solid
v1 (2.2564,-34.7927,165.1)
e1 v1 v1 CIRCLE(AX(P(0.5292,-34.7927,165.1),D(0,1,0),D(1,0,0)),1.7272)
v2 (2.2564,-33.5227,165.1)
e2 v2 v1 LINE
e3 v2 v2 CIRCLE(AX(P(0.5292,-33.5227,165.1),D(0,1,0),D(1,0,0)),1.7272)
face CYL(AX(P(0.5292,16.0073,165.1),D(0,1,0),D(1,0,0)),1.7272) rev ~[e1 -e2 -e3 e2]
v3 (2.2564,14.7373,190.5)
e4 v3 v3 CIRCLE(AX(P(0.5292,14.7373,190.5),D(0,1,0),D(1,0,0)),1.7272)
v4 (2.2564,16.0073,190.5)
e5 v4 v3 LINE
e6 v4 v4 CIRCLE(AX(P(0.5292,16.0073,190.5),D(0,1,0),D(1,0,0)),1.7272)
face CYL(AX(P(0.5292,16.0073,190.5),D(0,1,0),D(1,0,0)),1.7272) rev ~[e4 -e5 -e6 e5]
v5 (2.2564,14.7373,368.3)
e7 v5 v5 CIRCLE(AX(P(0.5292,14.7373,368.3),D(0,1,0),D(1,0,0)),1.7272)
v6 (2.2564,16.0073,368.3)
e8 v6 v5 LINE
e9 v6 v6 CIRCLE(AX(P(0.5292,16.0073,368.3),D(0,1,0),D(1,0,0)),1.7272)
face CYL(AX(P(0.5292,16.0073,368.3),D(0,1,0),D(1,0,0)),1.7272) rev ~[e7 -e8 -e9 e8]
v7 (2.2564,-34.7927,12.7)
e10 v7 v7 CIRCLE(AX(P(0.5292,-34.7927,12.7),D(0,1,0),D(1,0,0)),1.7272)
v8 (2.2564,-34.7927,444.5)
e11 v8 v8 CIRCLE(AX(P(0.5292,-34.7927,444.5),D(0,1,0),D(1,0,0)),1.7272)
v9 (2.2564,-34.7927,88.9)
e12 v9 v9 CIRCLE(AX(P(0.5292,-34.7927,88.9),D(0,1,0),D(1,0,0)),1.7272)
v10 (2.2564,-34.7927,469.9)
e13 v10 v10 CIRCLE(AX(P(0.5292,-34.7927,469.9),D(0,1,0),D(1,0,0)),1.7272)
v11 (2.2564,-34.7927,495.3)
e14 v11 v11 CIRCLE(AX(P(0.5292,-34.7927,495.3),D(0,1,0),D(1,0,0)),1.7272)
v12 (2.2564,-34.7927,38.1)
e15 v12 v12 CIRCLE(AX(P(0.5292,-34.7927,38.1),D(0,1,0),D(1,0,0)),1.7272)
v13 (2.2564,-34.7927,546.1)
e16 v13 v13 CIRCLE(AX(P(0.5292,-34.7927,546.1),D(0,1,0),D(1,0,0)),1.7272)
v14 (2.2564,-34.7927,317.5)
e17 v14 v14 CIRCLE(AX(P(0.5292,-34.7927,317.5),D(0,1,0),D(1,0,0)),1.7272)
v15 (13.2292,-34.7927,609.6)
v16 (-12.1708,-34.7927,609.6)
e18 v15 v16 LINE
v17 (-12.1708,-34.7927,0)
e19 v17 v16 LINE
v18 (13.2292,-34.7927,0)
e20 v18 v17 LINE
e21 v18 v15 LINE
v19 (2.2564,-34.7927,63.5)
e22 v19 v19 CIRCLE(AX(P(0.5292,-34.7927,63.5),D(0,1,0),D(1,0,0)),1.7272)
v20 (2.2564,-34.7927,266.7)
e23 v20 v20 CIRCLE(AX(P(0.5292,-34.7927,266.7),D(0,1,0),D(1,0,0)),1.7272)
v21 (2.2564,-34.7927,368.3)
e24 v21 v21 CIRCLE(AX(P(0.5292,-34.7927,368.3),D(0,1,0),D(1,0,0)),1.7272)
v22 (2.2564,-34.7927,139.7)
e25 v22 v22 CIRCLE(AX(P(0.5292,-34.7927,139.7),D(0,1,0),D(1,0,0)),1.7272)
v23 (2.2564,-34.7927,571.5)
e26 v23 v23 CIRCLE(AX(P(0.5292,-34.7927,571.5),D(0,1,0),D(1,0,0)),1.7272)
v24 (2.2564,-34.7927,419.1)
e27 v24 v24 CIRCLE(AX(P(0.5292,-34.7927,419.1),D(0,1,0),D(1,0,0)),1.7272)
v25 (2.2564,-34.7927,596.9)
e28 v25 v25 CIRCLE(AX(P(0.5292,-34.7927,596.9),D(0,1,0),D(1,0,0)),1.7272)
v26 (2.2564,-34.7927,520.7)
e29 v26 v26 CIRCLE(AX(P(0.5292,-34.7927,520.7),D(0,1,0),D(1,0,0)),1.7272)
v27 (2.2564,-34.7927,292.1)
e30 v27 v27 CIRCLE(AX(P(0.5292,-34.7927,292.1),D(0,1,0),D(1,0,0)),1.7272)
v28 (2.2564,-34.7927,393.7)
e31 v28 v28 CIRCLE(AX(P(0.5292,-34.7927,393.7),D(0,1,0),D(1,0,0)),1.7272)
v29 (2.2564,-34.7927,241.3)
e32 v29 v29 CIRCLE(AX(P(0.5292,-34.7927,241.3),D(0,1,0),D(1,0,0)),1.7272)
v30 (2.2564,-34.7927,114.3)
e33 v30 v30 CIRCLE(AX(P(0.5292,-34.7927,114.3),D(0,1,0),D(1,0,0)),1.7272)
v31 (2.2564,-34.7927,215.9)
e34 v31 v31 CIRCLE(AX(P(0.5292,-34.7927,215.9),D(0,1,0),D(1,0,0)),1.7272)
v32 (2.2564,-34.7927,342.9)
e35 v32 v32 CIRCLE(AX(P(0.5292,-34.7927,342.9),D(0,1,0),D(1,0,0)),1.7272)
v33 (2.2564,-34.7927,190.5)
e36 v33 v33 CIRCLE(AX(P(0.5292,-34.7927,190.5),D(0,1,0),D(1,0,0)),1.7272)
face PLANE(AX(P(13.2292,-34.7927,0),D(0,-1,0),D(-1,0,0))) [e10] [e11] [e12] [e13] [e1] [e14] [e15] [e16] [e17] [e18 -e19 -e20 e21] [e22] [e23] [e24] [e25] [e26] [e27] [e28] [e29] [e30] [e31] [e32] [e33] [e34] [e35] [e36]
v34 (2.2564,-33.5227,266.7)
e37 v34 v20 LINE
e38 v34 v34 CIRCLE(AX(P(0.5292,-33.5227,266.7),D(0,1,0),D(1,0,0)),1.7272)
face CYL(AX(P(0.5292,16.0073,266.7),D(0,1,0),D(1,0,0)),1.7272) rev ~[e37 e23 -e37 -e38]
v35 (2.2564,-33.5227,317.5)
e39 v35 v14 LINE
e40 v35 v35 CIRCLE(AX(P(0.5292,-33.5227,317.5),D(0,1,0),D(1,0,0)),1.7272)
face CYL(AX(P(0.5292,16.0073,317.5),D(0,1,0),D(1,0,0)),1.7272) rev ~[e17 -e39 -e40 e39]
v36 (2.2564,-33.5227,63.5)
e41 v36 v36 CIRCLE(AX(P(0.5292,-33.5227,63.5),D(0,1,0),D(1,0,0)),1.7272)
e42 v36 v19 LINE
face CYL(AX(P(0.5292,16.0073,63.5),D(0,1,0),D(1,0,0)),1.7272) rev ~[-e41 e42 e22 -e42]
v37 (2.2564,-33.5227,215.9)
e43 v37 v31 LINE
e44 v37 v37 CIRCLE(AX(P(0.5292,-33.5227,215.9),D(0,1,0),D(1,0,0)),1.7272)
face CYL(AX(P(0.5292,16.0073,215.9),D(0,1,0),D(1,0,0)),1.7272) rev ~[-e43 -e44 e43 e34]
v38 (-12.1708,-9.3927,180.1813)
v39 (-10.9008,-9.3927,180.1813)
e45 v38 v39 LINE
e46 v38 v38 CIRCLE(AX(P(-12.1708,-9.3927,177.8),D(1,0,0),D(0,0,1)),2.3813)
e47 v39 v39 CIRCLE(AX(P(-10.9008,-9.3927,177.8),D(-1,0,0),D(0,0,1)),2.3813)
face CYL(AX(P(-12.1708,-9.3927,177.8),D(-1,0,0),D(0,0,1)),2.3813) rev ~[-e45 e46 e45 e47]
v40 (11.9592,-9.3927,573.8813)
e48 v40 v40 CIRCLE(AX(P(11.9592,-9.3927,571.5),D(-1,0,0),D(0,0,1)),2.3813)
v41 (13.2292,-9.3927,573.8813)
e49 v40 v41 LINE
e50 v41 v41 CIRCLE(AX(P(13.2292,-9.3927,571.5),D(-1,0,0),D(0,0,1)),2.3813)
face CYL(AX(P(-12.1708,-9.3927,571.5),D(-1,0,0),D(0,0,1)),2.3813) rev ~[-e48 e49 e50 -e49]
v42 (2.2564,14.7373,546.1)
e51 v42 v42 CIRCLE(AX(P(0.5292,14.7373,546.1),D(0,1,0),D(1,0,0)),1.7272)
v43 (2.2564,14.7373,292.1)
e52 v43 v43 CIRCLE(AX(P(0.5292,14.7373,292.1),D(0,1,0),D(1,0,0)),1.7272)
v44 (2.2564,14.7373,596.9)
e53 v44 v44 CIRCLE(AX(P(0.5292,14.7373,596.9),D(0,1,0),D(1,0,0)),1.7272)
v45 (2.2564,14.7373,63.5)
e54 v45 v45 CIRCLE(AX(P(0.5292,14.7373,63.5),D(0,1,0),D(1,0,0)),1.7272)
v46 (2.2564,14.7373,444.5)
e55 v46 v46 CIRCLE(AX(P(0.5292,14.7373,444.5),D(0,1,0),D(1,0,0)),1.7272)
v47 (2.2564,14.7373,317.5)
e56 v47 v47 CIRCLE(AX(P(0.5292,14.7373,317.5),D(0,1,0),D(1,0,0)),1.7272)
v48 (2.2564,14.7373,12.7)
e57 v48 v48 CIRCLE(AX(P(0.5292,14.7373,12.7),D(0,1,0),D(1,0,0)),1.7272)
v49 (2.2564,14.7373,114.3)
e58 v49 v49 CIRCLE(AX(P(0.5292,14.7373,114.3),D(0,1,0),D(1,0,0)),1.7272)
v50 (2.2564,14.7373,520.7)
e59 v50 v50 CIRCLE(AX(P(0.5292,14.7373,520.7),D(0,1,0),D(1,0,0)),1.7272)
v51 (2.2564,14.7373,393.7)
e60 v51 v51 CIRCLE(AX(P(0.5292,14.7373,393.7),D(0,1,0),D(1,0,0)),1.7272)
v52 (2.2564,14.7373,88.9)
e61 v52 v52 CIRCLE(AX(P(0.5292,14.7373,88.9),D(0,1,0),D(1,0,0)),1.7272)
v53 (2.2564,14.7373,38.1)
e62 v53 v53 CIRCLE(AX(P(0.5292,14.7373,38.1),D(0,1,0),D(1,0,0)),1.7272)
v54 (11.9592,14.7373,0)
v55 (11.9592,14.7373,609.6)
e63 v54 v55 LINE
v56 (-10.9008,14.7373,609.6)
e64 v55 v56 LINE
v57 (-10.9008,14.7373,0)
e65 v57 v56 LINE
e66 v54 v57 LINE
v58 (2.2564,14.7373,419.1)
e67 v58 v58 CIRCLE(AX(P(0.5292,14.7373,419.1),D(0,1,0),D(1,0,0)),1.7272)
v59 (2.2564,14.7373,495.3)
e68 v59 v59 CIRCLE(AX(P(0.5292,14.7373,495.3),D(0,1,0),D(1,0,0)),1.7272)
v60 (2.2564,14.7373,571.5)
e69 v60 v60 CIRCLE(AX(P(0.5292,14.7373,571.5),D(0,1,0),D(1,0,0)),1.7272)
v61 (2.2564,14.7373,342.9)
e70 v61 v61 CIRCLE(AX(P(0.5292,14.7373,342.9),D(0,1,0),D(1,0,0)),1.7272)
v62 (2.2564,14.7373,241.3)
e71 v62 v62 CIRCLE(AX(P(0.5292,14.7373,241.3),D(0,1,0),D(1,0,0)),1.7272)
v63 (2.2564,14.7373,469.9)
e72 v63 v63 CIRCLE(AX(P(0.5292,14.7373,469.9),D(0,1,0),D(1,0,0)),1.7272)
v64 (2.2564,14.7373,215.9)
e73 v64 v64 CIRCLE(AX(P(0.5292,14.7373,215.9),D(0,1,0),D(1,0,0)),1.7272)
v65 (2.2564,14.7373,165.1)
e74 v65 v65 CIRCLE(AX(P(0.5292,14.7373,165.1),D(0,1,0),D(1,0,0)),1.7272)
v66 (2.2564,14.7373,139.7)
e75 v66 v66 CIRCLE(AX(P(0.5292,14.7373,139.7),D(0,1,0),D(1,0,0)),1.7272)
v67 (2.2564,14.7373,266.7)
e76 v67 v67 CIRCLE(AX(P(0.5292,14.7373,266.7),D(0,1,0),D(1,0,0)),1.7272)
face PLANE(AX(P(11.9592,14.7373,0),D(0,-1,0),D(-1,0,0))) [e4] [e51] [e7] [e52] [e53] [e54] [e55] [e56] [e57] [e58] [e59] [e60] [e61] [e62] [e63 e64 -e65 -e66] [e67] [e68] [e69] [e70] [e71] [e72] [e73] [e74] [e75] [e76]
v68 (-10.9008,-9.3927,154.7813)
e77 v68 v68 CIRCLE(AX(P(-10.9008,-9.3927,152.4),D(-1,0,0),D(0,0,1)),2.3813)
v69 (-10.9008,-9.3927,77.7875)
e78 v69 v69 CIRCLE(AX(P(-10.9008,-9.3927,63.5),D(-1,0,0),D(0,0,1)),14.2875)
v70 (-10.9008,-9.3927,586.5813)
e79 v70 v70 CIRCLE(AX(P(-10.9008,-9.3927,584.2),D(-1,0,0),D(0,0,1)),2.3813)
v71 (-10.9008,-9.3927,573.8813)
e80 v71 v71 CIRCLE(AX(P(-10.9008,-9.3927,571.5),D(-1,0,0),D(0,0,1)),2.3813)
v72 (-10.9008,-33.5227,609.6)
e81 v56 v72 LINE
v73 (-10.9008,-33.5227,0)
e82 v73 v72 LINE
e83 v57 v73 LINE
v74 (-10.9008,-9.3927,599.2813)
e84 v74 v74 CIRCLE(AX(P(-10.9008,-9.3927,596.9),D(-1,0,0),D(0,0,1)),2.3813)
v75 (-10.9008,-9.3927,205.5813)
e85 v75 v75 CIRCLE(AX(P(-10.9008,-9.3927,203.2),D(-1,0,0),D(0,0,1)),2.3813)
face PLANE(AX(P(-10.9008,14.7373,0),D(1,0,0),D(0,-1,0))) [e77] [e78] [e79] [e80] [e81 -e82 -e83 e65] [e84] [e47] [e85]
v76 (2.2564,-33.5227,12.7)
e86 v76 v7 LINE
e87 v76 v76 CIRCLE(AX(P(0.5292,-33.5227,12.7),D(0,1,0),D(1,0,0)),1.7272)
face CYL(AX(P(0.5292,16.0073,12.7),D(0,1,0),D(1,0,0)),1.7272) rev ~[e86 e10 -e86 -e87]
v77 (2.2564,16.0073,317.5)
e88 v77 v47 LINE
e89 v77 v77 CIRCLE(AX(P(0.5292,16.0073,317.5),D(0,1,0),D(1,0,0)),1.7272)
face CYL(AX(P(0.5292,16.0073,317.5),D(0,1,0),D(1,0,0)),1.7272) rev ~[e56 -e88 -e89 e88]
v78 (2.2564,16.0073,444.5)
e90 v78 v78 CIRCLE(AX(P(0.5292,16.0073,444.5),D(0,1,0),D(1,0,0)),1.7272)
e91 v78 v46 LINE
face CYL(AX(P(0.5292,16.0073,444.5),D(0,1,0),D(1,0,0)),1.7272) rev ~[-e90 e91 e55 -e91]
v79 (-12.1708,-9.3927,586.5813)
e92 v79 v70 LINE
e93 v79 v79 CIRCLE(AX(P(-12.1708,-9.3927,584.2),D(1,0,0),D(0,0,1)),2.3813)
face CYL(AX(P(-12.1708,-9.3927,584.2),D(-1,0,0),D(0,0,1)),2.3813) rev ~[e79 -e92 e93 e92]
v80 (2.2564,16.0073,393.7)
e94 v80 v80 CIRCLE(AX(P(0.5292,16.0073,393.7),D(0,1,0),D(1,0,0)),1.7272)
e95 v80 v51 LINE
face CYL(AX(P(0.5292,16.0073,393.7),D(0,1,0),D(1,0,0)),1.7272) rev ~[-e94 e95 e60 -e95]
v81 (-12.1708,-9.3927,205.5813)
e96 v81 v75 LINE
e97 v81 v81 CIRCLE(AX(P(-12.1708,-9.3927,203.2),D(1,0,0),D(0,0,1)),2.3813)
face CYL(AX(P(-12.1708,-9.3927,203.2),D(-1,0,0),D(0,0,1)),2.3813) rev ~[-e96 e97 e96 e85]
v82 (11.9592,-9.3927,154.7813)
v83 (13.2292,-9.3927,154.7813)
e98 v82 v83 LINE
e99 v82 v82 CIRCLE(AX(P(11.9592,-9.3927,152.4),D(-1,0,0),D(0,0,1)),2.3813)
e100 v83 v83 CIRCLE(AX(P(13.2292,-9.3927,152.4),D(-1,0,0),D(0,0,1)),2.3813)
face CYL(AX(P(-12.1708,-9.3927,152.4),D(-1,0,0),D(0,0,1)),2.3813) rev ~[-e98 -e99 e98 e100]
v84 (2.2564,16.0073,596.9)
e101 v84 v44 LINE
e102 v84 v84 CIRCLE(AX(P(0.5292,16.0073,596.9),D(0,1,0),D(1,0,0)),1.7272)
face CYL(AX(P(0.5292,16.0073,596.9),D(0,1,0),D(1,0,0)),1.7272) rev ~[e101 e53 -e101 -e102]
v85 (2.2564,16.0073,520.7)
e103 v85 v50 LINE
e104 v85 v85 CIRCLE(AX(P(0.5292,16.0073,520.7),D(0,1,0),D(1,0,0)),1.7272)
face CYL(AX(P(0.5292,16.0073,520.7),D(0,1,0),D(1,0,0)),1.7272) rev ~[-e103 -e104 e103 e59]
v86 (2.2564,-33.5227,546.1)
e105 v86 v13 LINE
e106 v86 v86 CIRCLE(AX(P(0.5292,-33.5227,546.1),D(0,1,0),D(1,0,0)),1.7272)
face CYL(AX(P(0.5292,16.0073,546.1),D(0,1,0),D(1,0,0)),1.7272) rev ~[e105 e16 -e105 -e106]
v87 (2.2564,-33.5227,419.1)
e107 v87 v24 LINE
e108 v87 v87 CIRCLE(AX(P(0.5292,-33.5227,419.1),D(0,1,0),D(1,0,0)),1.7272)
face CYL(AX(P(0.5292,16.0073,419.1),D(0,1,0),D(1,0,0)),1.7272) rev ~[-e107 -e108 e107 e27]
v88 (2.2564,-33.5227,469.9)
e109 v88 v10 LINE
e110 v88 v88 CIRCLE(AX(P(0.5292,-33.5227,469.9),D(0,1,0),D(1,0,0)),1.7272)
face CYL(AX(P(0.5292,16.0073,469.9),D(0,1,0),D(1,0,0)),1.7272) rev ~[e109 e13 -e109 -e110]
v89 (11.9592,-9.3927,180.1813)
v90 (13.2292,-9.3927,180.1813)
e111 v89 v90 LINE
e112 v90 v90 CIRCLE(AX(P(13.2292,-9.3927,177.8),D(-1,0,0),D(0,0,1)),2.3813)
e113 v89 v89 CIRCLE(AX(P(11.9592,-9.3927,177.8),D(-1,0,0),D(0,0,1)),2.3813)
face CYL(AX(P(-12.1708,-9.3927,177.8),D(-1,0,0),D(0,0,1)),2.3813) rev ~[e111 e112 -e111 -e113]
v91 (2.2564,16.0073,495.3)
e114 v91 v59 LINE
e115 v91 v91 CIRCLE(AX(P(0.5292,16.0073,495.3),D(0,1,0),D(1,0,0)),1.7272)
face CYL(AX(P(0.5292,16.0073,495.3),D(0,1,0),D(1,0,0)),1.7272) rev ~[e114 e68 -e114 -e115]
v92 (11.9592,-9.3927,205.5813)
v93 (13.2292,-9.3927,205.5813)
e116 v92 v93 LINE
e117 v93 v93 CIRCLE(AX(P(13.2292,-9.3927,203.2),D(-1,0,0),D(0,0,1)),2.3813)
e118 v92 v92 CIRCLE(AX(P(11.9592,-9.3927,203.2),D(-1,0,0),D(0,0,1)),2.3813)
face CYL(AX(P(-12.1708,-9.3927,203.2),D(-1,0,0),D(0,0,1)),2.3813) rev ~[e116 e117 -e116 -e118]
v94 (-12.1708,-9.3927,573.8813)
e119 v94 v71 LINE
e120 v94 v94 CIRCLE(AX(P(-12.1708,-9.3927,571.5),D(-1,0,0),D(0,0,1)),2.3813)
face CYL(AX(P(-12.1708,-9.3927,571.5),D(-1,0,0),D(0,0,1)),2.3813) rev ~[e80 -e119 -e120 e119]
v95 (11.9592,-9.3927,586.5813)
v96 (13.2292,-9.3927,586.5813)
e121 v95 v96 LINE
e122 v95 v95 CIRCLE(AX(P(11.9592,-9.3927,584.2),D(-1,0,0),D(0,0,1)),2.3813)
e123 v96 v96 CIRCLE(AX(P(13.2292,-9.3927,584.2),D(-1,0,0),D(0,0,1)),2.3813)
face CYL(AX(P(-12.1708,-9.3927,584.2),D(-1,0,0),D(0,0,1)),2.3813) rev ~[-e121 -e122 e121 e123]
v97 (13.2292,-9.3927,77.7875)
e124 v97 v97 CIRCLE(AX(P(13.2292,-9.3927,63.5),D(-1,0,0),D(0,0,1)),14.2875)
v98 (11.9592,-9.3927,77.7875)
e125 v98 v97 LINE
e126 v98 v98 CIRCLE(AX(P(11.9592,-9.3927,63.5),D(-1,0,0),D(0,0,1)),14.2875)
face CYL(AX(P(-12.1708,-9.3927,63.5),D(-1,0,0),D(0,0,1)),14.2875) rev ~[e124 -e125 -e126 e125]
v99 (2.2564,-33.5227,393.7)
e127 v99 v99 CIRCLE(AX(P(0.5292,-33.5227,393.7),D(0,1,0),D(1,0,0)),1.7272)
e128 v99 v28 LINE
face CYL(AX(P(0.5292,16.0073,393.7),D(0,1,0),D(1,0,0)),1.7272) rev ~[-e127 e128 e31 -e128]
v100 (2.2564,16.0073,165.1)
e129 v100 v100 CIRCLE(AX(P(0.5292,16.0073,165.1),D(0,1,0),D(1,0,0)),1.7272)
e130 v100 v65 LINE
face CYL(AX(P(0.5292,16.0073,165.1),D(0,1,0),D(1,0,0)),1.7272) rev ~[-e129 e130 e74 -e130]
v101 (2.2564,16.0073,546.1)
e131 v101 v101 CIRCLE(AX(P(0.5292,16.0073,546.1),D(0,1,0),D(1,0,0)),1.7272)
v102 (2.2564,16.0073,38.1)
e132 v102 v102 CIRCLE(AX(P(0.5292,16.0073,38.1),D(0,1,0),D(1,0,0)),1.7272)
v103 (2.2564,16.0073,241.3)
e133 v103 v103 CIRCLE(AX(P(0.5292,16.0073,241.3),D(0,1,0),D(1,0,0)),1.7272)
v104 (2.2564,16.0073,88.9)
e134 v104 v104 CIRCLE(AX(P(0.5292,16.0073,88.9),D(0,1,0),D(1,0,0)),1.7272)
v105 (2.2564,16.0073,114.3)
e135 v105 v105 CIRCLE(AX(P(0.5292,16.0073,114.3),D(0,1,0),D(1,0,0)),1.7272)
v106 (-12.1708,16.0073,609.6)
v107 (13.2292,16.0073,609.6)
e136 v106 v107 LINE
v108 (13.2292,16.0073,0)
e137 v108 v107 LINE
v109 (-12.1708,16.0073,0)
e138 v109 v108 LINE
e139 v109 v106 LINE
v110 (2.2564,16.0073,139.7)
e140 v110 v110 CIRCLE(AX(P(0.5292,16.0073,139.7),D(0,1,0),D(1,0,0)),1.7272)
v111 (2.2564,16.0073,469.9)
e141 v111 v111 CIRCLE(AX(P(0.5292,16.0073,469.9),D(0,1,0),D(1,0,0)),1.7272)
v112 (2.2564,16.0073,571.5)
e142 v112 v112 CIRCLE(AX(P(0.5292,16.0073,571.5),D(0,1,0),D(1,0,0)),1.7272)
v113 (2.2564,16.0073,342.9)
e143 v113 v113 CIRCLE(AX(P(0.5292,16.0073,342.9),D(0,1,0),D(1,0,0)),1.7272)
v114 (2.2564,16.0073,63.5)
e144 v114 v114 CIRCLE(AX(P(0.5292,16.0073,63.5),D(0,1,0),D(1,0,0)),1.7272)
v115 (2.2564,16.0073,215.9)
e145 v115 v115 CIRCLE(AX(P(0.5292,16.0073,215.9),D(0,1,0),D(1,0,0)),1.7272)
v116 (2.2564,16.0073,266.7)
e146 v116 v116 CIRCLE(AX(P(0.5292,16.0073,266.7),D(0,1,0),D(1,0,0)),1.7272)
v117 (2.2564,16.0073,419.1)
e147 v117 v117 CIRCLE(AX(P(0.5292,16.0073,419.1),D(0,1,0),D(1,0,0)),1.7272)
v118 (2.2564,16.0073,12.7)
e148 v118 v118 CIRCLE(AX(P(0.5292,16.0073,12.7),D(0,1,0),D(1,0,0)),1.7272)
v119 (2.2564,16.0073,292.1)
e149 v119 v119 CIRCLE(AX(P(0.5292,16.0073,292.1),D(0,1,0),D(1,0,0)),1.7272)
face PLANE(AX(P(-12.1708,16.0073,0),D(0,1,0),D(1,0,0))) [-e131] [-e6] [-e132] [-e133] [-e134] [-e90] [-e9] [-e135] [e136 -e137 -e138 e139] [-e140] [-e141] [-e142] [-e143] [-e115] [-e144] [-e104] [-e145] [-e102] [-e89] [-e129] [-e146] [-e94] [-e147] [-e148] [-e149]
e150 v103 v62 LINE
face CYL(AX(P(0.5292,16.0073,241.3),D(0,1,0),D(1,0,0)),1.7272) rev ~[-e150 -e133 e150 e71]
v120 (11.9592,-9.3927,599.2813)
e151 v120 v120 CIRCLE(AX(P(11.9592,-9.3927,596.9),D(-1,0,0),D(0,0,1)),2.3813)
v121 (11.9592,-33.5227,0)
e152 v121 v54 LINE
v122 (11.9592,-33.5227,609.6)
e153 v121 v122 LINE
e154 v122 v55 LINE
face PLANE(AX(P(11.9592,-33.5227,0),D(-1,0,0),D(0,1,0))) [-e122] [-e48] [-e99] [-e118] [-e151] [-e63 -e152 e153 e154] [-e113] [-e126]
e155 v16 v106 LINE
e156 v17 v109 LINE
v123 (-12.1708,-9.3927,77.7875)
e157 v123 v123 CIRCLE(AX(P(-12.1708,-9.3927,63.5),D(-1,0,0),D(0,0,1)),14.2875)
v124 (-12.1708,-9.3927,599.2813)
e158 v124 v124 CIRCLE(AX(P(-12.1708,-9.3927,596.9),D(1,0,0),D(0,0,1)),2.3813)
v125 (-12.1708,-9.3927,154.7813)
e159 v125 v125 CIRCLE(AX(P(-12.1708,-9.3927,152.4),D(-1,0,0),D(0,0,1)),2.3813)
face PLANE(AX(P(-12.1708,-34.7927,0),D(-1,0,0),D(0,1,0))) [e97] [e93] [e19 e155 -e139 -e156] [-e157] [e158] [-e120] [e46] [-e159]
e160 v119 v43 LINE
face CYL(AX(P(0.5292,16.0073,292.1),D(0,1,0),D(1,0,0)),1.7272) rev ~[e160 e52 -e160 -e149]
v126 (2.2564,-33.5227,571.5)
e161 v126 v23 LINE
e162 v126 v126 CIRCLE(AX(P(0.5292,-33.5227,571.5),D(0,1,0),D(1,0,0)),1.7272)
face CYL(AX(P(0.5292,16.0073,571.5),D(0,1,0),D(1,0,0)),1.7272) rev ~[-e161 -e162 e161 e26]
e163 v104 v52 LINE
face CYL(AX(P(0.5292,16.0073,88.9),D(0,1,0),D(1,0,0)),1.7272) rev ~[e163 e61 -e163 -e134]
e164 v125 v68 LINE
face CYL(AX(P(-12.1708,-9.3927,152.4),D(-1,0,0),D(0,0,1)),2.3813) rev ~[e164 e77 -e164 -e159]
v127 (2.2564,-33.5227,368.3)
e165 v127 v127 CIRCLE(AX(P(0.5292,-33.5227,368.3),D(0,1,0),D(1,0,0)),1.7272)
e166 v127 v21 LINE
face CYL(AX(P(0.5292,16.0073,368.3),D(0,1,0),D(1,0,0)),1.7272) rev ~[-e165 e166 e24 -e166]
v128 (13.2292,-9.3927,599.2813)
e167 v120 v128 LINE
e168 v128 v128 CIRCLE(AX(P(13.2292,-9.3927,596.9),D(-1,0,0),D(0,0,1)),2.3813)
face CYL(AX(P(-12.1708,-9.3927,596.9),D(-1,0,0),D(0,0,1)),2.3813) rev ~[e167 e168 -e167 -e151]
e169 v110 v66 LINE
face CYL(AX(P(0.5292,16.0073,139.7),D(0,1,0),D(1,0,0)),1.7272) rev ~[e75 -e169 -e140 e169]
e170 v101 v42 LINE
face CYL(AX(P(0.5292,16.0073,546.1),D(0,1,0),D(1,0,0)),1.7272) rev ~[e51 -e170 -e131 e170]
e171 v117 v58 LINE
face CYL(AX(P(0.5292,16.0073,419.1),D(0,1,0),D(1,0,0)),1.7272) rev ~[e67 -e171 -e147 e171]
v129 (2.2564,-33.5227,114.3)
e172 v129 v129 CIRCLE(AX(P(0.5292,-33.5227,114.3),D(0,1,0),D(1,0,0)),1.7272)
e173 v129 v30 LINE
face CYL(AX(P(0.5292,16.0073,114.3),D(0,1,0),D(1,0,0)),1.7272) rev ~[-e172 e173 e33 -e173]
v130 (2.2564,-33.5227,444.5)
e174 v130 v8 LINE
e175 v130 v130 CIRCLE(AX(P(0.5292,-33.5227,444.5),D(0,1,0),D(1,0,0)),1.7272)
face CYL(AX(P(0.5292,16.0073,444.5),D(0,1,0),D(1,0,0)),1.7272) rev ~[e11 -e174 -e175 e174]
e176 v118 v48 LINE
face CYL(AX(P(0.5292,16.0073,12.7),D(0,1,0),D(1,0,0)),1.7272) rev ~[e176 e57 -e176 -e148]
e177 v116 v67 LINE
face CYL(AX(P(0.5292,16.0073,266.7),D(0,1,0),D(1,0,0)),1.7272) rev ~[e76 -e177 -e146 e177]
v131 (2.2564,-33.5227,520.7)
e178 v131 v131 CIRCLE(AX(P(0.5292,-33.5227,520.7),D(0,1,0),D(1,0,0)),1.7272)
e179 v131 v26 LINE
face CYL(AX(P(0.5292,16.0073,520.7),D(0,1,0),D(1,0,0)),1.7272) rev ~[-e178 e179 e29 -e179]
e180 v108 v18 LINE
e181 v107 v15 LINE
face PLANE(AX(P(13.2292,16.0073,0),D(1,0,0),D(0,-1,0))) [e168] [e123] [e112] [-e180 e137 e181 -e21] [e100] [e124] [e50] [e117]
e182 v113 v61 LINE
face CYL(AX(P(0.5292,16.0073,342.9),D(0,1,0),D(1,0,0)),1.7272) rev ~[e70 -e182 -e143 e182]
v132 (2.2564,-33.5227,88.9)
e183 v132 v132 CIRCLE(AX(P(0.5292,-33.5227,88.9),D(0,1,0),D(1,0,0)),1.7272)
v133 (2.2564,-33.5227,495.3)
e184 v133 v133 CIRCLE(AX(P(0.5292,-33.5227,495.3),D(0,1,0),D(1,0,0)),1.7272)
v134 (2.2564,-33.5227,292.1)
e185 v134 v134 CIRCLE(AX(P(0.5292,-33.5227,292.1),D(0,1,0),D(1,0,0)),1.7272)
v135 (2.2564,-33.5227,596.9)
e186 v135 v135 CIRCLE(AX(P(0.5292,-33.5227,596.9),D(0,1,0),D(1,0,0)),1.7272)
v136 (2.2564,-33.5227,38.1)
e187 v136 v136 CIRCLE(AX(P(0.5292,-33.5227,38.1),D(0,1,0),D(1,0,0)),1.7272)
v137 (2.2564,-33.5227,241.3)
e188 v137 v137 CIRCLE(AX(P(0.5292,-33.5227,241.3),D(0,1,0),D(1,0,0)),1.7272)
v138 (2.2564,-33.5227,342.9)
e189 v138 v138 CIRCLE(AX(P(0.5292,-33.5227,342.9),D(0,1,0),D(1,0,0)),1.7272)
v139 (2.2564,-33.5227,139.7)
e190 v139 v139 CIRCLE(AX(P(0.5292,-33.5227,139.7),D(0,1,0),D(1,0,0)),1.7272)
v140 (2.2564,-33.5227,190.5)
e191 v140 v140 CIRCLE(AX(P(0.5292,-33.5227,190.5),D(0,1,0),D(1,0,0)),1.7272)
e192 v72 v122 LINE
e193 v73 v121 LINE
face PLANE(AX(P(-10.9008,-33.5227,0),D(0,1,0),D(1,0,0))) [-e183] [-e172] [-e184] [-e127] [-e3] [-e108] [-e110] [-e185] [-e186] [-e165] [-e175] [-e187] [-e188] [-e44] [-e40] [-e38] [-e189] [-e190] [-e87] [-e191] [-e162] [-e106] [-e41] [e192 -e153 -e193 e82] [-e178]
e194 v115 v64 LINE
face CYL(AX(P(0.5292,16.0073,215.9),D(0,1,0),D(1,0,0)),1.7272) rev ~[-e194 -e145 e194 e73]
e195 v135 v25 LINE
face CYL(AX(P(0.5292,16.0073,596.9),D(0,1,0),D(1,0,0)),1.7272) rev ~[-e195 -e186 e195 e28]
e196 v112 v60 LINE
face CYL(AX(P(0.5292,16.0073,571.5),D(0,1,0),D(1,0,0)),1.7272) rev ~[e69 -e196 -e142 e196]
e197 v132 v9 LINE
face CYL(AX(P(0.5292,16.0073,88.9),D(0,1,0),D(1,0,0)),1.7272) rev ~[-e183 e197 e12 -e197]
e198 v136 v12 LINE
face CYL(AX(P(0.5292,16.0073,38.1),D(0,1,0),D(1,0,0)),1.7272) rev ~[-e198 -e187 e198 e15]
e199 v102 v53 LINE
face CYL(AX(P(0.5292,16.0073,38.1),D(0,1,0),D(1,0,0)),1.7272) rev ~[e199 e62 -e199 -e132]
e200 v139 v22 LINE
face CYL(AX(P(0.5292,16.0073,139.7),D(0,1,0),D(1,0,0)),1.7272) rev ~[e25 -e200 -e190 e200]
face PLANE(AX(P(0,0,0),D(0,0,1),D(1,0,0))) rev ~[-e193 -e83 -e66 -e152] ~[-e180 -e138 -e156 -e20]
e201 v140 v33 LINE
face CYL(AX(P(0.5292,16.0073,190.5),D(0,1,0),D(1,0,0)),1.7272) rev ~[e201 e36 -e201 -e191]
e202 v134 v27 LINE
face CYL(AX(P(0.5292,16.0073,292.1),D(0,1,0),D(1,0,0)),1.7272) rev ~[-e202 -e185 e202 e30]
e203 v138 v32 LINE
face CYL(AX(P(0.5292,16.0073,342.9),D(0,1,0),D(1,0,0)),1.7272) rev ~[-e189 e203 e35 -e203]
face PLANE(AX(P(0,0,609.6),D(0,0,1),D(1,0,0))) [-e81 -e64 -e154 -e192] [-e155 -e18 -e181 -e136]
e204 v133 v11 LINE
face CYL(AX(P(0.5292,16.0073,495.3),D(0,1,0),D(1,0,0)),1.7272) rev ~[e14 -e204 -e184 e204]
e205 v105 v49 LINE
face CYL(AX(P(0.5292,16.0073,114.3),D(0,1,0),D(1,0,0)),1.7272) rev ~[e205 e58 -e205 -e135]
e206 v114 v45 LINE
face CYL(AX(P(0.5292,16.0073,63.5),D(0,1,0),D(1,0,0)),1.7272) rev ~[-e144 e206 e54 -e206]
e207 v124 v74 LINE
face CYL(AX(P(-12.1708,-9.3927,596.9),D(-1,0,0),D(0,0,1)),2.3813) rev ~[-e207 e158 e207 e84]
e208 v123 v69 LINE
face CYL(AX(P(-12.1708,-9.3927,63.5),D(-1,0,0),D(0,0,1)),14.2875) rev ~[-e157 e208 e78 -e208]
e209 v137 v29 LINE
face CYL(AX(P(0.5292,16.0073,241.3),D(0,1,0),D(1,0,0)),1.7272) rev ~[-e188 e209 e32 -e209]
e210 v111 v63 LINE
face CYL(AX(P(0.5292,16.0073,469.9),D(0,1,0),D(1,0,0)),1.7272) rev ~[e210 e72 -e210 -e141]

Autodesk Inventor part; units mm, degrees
ref_plane "YZ Plane" through (0, 0, 0) normal (1, 0, 0) x (0, 1, 0)
ref_plane "XZ Plane" through (0, 0, 0) normal (0, 1, 0) x (-1, 0, 0)
ref_plane "XY Plane" through (0, 0, 0) normal (0, 0, 1) x (1, 0, 0)
sketch "Sketch1" plane through (0, 0, 0) normal (0, 0, 1) x (1, 0, 0)
  line L0 (-12.1708, 16.0073) -> (13.2292, 16.0073)
  line L1 (13.2292, 16.0073) -> (13.2292, -34.7927)
  line L2 (13.2292, -34.7927) -> (-12.1708, -34.7927)
  line L3 (-12.1708, -34.7927) -> (-12.1708, 16.0073)
  line L4 (11.9592, 14.7373) -> (-10.9008, 14.7373)
  line L5 (-10.9008, 14.7373) -> (-10.9008, -33.5227)
  line L6 (-10.9008, -33.5227) -> (11.9592, -33.5227)
  line L7 (11.9592, -33.5227) -> (11.9592, 14.7373)
  point P0 (0, 0)
  dimension "d0" = 25.4
  dimension "d1" = 50.8
  dimension "d2" = 1.27
extrude "Extrusion1" add sketch "Sketch1" along normal blind 609.6
sketch "Sketch2" plane through (-12.1708, 16.0073, 0) normal (0, 1, 0) x (1, 0, 0)
  circle A0 centre (12.7, -12.7) radius 1.7272
  line L0 (25.4, 0) -> (0, 0) projected
  line L1 (0, 0) -> (0, -609.6) projected
  point P0 (12.1708, 0)
  dimension "d5" = 3.4544
  dimension "d6" = 12.7
  dimension "d7" = 12.7
extrude "Extrusion2" cut sketch "Sketch2" against normal through all
pattern_linear "Rectangular Pattern1" count 61 spacing 25.4 along (0, 0, 1) of "Extrusion2"
sketch "Sketch6" plane through (-12.1708, -34.7927, 0) normal (-1, 0, 0) x (0, 0, 1)
  circle A0 centre (203.2, 25.4) radius 2.3813
  circle A1 centre (177.8, 25.4) radius 2.3813
  circle A2 centre (152.4, 25.4) radius 2.3813
  line L0 (152.4, 25.4) -> (203.2, 25.4)
  line L1 (0, 50.8) -> (0, 0) projected
  line L2 (0, 50.8) -> (609.6, 50.8) projected
  circle A3 centre (596.9, 25.4) radius 2.3813
  circle A4 centre (584.2, 25.4) radius 2.3813
  circle A5 centre (571.5, 25.4) radius 2.3813
  line L3 (571.5, 25.4) -> (596.9, 25.4)
  line L4 (609.6, 50.8) -> (609.6, 0) projected
  point P0 (0, 34.7927)
  dimension "d38" = 4.7625
  dimension "d39" = 50.8
  dimension "d41" = 25.4
  dimension "d43" = 152.4
  dimension "d44" = 4.7625
  dimension "d45" = 25.4
  dimension "d46" = 25.4
  dimension "d47" = 12.7
extrude "Extrusion6" cut sketch "Sketch6" against normal through all
sketch "Sketch7" plane through (-12.1708, -34.7927, 0) normal (-1, 0, 0) x (0, 0, 1)
  circle A0 centre (63.5, 25.4) radius 14.2875
  line L0 (0, 50.8) -> (0, 0) projected
  line L1 (0, 0) -> (609.6, 0) projected
  point P0 (0, 34.7927)
  dimension "d50" = 63.5
  dimension "d51" = 25.4
  dimension "d52" = 28.575
extrude "Extrusion7" cut sketch "Sketch7" against normal through all
equation "\"d3\" = d13"
equation "\"d10\" = d14"
equation "\"d13\" = 609.6"
equation "\"d14\" = d13"
properties part number "Long bar 3- VersaFrame"
